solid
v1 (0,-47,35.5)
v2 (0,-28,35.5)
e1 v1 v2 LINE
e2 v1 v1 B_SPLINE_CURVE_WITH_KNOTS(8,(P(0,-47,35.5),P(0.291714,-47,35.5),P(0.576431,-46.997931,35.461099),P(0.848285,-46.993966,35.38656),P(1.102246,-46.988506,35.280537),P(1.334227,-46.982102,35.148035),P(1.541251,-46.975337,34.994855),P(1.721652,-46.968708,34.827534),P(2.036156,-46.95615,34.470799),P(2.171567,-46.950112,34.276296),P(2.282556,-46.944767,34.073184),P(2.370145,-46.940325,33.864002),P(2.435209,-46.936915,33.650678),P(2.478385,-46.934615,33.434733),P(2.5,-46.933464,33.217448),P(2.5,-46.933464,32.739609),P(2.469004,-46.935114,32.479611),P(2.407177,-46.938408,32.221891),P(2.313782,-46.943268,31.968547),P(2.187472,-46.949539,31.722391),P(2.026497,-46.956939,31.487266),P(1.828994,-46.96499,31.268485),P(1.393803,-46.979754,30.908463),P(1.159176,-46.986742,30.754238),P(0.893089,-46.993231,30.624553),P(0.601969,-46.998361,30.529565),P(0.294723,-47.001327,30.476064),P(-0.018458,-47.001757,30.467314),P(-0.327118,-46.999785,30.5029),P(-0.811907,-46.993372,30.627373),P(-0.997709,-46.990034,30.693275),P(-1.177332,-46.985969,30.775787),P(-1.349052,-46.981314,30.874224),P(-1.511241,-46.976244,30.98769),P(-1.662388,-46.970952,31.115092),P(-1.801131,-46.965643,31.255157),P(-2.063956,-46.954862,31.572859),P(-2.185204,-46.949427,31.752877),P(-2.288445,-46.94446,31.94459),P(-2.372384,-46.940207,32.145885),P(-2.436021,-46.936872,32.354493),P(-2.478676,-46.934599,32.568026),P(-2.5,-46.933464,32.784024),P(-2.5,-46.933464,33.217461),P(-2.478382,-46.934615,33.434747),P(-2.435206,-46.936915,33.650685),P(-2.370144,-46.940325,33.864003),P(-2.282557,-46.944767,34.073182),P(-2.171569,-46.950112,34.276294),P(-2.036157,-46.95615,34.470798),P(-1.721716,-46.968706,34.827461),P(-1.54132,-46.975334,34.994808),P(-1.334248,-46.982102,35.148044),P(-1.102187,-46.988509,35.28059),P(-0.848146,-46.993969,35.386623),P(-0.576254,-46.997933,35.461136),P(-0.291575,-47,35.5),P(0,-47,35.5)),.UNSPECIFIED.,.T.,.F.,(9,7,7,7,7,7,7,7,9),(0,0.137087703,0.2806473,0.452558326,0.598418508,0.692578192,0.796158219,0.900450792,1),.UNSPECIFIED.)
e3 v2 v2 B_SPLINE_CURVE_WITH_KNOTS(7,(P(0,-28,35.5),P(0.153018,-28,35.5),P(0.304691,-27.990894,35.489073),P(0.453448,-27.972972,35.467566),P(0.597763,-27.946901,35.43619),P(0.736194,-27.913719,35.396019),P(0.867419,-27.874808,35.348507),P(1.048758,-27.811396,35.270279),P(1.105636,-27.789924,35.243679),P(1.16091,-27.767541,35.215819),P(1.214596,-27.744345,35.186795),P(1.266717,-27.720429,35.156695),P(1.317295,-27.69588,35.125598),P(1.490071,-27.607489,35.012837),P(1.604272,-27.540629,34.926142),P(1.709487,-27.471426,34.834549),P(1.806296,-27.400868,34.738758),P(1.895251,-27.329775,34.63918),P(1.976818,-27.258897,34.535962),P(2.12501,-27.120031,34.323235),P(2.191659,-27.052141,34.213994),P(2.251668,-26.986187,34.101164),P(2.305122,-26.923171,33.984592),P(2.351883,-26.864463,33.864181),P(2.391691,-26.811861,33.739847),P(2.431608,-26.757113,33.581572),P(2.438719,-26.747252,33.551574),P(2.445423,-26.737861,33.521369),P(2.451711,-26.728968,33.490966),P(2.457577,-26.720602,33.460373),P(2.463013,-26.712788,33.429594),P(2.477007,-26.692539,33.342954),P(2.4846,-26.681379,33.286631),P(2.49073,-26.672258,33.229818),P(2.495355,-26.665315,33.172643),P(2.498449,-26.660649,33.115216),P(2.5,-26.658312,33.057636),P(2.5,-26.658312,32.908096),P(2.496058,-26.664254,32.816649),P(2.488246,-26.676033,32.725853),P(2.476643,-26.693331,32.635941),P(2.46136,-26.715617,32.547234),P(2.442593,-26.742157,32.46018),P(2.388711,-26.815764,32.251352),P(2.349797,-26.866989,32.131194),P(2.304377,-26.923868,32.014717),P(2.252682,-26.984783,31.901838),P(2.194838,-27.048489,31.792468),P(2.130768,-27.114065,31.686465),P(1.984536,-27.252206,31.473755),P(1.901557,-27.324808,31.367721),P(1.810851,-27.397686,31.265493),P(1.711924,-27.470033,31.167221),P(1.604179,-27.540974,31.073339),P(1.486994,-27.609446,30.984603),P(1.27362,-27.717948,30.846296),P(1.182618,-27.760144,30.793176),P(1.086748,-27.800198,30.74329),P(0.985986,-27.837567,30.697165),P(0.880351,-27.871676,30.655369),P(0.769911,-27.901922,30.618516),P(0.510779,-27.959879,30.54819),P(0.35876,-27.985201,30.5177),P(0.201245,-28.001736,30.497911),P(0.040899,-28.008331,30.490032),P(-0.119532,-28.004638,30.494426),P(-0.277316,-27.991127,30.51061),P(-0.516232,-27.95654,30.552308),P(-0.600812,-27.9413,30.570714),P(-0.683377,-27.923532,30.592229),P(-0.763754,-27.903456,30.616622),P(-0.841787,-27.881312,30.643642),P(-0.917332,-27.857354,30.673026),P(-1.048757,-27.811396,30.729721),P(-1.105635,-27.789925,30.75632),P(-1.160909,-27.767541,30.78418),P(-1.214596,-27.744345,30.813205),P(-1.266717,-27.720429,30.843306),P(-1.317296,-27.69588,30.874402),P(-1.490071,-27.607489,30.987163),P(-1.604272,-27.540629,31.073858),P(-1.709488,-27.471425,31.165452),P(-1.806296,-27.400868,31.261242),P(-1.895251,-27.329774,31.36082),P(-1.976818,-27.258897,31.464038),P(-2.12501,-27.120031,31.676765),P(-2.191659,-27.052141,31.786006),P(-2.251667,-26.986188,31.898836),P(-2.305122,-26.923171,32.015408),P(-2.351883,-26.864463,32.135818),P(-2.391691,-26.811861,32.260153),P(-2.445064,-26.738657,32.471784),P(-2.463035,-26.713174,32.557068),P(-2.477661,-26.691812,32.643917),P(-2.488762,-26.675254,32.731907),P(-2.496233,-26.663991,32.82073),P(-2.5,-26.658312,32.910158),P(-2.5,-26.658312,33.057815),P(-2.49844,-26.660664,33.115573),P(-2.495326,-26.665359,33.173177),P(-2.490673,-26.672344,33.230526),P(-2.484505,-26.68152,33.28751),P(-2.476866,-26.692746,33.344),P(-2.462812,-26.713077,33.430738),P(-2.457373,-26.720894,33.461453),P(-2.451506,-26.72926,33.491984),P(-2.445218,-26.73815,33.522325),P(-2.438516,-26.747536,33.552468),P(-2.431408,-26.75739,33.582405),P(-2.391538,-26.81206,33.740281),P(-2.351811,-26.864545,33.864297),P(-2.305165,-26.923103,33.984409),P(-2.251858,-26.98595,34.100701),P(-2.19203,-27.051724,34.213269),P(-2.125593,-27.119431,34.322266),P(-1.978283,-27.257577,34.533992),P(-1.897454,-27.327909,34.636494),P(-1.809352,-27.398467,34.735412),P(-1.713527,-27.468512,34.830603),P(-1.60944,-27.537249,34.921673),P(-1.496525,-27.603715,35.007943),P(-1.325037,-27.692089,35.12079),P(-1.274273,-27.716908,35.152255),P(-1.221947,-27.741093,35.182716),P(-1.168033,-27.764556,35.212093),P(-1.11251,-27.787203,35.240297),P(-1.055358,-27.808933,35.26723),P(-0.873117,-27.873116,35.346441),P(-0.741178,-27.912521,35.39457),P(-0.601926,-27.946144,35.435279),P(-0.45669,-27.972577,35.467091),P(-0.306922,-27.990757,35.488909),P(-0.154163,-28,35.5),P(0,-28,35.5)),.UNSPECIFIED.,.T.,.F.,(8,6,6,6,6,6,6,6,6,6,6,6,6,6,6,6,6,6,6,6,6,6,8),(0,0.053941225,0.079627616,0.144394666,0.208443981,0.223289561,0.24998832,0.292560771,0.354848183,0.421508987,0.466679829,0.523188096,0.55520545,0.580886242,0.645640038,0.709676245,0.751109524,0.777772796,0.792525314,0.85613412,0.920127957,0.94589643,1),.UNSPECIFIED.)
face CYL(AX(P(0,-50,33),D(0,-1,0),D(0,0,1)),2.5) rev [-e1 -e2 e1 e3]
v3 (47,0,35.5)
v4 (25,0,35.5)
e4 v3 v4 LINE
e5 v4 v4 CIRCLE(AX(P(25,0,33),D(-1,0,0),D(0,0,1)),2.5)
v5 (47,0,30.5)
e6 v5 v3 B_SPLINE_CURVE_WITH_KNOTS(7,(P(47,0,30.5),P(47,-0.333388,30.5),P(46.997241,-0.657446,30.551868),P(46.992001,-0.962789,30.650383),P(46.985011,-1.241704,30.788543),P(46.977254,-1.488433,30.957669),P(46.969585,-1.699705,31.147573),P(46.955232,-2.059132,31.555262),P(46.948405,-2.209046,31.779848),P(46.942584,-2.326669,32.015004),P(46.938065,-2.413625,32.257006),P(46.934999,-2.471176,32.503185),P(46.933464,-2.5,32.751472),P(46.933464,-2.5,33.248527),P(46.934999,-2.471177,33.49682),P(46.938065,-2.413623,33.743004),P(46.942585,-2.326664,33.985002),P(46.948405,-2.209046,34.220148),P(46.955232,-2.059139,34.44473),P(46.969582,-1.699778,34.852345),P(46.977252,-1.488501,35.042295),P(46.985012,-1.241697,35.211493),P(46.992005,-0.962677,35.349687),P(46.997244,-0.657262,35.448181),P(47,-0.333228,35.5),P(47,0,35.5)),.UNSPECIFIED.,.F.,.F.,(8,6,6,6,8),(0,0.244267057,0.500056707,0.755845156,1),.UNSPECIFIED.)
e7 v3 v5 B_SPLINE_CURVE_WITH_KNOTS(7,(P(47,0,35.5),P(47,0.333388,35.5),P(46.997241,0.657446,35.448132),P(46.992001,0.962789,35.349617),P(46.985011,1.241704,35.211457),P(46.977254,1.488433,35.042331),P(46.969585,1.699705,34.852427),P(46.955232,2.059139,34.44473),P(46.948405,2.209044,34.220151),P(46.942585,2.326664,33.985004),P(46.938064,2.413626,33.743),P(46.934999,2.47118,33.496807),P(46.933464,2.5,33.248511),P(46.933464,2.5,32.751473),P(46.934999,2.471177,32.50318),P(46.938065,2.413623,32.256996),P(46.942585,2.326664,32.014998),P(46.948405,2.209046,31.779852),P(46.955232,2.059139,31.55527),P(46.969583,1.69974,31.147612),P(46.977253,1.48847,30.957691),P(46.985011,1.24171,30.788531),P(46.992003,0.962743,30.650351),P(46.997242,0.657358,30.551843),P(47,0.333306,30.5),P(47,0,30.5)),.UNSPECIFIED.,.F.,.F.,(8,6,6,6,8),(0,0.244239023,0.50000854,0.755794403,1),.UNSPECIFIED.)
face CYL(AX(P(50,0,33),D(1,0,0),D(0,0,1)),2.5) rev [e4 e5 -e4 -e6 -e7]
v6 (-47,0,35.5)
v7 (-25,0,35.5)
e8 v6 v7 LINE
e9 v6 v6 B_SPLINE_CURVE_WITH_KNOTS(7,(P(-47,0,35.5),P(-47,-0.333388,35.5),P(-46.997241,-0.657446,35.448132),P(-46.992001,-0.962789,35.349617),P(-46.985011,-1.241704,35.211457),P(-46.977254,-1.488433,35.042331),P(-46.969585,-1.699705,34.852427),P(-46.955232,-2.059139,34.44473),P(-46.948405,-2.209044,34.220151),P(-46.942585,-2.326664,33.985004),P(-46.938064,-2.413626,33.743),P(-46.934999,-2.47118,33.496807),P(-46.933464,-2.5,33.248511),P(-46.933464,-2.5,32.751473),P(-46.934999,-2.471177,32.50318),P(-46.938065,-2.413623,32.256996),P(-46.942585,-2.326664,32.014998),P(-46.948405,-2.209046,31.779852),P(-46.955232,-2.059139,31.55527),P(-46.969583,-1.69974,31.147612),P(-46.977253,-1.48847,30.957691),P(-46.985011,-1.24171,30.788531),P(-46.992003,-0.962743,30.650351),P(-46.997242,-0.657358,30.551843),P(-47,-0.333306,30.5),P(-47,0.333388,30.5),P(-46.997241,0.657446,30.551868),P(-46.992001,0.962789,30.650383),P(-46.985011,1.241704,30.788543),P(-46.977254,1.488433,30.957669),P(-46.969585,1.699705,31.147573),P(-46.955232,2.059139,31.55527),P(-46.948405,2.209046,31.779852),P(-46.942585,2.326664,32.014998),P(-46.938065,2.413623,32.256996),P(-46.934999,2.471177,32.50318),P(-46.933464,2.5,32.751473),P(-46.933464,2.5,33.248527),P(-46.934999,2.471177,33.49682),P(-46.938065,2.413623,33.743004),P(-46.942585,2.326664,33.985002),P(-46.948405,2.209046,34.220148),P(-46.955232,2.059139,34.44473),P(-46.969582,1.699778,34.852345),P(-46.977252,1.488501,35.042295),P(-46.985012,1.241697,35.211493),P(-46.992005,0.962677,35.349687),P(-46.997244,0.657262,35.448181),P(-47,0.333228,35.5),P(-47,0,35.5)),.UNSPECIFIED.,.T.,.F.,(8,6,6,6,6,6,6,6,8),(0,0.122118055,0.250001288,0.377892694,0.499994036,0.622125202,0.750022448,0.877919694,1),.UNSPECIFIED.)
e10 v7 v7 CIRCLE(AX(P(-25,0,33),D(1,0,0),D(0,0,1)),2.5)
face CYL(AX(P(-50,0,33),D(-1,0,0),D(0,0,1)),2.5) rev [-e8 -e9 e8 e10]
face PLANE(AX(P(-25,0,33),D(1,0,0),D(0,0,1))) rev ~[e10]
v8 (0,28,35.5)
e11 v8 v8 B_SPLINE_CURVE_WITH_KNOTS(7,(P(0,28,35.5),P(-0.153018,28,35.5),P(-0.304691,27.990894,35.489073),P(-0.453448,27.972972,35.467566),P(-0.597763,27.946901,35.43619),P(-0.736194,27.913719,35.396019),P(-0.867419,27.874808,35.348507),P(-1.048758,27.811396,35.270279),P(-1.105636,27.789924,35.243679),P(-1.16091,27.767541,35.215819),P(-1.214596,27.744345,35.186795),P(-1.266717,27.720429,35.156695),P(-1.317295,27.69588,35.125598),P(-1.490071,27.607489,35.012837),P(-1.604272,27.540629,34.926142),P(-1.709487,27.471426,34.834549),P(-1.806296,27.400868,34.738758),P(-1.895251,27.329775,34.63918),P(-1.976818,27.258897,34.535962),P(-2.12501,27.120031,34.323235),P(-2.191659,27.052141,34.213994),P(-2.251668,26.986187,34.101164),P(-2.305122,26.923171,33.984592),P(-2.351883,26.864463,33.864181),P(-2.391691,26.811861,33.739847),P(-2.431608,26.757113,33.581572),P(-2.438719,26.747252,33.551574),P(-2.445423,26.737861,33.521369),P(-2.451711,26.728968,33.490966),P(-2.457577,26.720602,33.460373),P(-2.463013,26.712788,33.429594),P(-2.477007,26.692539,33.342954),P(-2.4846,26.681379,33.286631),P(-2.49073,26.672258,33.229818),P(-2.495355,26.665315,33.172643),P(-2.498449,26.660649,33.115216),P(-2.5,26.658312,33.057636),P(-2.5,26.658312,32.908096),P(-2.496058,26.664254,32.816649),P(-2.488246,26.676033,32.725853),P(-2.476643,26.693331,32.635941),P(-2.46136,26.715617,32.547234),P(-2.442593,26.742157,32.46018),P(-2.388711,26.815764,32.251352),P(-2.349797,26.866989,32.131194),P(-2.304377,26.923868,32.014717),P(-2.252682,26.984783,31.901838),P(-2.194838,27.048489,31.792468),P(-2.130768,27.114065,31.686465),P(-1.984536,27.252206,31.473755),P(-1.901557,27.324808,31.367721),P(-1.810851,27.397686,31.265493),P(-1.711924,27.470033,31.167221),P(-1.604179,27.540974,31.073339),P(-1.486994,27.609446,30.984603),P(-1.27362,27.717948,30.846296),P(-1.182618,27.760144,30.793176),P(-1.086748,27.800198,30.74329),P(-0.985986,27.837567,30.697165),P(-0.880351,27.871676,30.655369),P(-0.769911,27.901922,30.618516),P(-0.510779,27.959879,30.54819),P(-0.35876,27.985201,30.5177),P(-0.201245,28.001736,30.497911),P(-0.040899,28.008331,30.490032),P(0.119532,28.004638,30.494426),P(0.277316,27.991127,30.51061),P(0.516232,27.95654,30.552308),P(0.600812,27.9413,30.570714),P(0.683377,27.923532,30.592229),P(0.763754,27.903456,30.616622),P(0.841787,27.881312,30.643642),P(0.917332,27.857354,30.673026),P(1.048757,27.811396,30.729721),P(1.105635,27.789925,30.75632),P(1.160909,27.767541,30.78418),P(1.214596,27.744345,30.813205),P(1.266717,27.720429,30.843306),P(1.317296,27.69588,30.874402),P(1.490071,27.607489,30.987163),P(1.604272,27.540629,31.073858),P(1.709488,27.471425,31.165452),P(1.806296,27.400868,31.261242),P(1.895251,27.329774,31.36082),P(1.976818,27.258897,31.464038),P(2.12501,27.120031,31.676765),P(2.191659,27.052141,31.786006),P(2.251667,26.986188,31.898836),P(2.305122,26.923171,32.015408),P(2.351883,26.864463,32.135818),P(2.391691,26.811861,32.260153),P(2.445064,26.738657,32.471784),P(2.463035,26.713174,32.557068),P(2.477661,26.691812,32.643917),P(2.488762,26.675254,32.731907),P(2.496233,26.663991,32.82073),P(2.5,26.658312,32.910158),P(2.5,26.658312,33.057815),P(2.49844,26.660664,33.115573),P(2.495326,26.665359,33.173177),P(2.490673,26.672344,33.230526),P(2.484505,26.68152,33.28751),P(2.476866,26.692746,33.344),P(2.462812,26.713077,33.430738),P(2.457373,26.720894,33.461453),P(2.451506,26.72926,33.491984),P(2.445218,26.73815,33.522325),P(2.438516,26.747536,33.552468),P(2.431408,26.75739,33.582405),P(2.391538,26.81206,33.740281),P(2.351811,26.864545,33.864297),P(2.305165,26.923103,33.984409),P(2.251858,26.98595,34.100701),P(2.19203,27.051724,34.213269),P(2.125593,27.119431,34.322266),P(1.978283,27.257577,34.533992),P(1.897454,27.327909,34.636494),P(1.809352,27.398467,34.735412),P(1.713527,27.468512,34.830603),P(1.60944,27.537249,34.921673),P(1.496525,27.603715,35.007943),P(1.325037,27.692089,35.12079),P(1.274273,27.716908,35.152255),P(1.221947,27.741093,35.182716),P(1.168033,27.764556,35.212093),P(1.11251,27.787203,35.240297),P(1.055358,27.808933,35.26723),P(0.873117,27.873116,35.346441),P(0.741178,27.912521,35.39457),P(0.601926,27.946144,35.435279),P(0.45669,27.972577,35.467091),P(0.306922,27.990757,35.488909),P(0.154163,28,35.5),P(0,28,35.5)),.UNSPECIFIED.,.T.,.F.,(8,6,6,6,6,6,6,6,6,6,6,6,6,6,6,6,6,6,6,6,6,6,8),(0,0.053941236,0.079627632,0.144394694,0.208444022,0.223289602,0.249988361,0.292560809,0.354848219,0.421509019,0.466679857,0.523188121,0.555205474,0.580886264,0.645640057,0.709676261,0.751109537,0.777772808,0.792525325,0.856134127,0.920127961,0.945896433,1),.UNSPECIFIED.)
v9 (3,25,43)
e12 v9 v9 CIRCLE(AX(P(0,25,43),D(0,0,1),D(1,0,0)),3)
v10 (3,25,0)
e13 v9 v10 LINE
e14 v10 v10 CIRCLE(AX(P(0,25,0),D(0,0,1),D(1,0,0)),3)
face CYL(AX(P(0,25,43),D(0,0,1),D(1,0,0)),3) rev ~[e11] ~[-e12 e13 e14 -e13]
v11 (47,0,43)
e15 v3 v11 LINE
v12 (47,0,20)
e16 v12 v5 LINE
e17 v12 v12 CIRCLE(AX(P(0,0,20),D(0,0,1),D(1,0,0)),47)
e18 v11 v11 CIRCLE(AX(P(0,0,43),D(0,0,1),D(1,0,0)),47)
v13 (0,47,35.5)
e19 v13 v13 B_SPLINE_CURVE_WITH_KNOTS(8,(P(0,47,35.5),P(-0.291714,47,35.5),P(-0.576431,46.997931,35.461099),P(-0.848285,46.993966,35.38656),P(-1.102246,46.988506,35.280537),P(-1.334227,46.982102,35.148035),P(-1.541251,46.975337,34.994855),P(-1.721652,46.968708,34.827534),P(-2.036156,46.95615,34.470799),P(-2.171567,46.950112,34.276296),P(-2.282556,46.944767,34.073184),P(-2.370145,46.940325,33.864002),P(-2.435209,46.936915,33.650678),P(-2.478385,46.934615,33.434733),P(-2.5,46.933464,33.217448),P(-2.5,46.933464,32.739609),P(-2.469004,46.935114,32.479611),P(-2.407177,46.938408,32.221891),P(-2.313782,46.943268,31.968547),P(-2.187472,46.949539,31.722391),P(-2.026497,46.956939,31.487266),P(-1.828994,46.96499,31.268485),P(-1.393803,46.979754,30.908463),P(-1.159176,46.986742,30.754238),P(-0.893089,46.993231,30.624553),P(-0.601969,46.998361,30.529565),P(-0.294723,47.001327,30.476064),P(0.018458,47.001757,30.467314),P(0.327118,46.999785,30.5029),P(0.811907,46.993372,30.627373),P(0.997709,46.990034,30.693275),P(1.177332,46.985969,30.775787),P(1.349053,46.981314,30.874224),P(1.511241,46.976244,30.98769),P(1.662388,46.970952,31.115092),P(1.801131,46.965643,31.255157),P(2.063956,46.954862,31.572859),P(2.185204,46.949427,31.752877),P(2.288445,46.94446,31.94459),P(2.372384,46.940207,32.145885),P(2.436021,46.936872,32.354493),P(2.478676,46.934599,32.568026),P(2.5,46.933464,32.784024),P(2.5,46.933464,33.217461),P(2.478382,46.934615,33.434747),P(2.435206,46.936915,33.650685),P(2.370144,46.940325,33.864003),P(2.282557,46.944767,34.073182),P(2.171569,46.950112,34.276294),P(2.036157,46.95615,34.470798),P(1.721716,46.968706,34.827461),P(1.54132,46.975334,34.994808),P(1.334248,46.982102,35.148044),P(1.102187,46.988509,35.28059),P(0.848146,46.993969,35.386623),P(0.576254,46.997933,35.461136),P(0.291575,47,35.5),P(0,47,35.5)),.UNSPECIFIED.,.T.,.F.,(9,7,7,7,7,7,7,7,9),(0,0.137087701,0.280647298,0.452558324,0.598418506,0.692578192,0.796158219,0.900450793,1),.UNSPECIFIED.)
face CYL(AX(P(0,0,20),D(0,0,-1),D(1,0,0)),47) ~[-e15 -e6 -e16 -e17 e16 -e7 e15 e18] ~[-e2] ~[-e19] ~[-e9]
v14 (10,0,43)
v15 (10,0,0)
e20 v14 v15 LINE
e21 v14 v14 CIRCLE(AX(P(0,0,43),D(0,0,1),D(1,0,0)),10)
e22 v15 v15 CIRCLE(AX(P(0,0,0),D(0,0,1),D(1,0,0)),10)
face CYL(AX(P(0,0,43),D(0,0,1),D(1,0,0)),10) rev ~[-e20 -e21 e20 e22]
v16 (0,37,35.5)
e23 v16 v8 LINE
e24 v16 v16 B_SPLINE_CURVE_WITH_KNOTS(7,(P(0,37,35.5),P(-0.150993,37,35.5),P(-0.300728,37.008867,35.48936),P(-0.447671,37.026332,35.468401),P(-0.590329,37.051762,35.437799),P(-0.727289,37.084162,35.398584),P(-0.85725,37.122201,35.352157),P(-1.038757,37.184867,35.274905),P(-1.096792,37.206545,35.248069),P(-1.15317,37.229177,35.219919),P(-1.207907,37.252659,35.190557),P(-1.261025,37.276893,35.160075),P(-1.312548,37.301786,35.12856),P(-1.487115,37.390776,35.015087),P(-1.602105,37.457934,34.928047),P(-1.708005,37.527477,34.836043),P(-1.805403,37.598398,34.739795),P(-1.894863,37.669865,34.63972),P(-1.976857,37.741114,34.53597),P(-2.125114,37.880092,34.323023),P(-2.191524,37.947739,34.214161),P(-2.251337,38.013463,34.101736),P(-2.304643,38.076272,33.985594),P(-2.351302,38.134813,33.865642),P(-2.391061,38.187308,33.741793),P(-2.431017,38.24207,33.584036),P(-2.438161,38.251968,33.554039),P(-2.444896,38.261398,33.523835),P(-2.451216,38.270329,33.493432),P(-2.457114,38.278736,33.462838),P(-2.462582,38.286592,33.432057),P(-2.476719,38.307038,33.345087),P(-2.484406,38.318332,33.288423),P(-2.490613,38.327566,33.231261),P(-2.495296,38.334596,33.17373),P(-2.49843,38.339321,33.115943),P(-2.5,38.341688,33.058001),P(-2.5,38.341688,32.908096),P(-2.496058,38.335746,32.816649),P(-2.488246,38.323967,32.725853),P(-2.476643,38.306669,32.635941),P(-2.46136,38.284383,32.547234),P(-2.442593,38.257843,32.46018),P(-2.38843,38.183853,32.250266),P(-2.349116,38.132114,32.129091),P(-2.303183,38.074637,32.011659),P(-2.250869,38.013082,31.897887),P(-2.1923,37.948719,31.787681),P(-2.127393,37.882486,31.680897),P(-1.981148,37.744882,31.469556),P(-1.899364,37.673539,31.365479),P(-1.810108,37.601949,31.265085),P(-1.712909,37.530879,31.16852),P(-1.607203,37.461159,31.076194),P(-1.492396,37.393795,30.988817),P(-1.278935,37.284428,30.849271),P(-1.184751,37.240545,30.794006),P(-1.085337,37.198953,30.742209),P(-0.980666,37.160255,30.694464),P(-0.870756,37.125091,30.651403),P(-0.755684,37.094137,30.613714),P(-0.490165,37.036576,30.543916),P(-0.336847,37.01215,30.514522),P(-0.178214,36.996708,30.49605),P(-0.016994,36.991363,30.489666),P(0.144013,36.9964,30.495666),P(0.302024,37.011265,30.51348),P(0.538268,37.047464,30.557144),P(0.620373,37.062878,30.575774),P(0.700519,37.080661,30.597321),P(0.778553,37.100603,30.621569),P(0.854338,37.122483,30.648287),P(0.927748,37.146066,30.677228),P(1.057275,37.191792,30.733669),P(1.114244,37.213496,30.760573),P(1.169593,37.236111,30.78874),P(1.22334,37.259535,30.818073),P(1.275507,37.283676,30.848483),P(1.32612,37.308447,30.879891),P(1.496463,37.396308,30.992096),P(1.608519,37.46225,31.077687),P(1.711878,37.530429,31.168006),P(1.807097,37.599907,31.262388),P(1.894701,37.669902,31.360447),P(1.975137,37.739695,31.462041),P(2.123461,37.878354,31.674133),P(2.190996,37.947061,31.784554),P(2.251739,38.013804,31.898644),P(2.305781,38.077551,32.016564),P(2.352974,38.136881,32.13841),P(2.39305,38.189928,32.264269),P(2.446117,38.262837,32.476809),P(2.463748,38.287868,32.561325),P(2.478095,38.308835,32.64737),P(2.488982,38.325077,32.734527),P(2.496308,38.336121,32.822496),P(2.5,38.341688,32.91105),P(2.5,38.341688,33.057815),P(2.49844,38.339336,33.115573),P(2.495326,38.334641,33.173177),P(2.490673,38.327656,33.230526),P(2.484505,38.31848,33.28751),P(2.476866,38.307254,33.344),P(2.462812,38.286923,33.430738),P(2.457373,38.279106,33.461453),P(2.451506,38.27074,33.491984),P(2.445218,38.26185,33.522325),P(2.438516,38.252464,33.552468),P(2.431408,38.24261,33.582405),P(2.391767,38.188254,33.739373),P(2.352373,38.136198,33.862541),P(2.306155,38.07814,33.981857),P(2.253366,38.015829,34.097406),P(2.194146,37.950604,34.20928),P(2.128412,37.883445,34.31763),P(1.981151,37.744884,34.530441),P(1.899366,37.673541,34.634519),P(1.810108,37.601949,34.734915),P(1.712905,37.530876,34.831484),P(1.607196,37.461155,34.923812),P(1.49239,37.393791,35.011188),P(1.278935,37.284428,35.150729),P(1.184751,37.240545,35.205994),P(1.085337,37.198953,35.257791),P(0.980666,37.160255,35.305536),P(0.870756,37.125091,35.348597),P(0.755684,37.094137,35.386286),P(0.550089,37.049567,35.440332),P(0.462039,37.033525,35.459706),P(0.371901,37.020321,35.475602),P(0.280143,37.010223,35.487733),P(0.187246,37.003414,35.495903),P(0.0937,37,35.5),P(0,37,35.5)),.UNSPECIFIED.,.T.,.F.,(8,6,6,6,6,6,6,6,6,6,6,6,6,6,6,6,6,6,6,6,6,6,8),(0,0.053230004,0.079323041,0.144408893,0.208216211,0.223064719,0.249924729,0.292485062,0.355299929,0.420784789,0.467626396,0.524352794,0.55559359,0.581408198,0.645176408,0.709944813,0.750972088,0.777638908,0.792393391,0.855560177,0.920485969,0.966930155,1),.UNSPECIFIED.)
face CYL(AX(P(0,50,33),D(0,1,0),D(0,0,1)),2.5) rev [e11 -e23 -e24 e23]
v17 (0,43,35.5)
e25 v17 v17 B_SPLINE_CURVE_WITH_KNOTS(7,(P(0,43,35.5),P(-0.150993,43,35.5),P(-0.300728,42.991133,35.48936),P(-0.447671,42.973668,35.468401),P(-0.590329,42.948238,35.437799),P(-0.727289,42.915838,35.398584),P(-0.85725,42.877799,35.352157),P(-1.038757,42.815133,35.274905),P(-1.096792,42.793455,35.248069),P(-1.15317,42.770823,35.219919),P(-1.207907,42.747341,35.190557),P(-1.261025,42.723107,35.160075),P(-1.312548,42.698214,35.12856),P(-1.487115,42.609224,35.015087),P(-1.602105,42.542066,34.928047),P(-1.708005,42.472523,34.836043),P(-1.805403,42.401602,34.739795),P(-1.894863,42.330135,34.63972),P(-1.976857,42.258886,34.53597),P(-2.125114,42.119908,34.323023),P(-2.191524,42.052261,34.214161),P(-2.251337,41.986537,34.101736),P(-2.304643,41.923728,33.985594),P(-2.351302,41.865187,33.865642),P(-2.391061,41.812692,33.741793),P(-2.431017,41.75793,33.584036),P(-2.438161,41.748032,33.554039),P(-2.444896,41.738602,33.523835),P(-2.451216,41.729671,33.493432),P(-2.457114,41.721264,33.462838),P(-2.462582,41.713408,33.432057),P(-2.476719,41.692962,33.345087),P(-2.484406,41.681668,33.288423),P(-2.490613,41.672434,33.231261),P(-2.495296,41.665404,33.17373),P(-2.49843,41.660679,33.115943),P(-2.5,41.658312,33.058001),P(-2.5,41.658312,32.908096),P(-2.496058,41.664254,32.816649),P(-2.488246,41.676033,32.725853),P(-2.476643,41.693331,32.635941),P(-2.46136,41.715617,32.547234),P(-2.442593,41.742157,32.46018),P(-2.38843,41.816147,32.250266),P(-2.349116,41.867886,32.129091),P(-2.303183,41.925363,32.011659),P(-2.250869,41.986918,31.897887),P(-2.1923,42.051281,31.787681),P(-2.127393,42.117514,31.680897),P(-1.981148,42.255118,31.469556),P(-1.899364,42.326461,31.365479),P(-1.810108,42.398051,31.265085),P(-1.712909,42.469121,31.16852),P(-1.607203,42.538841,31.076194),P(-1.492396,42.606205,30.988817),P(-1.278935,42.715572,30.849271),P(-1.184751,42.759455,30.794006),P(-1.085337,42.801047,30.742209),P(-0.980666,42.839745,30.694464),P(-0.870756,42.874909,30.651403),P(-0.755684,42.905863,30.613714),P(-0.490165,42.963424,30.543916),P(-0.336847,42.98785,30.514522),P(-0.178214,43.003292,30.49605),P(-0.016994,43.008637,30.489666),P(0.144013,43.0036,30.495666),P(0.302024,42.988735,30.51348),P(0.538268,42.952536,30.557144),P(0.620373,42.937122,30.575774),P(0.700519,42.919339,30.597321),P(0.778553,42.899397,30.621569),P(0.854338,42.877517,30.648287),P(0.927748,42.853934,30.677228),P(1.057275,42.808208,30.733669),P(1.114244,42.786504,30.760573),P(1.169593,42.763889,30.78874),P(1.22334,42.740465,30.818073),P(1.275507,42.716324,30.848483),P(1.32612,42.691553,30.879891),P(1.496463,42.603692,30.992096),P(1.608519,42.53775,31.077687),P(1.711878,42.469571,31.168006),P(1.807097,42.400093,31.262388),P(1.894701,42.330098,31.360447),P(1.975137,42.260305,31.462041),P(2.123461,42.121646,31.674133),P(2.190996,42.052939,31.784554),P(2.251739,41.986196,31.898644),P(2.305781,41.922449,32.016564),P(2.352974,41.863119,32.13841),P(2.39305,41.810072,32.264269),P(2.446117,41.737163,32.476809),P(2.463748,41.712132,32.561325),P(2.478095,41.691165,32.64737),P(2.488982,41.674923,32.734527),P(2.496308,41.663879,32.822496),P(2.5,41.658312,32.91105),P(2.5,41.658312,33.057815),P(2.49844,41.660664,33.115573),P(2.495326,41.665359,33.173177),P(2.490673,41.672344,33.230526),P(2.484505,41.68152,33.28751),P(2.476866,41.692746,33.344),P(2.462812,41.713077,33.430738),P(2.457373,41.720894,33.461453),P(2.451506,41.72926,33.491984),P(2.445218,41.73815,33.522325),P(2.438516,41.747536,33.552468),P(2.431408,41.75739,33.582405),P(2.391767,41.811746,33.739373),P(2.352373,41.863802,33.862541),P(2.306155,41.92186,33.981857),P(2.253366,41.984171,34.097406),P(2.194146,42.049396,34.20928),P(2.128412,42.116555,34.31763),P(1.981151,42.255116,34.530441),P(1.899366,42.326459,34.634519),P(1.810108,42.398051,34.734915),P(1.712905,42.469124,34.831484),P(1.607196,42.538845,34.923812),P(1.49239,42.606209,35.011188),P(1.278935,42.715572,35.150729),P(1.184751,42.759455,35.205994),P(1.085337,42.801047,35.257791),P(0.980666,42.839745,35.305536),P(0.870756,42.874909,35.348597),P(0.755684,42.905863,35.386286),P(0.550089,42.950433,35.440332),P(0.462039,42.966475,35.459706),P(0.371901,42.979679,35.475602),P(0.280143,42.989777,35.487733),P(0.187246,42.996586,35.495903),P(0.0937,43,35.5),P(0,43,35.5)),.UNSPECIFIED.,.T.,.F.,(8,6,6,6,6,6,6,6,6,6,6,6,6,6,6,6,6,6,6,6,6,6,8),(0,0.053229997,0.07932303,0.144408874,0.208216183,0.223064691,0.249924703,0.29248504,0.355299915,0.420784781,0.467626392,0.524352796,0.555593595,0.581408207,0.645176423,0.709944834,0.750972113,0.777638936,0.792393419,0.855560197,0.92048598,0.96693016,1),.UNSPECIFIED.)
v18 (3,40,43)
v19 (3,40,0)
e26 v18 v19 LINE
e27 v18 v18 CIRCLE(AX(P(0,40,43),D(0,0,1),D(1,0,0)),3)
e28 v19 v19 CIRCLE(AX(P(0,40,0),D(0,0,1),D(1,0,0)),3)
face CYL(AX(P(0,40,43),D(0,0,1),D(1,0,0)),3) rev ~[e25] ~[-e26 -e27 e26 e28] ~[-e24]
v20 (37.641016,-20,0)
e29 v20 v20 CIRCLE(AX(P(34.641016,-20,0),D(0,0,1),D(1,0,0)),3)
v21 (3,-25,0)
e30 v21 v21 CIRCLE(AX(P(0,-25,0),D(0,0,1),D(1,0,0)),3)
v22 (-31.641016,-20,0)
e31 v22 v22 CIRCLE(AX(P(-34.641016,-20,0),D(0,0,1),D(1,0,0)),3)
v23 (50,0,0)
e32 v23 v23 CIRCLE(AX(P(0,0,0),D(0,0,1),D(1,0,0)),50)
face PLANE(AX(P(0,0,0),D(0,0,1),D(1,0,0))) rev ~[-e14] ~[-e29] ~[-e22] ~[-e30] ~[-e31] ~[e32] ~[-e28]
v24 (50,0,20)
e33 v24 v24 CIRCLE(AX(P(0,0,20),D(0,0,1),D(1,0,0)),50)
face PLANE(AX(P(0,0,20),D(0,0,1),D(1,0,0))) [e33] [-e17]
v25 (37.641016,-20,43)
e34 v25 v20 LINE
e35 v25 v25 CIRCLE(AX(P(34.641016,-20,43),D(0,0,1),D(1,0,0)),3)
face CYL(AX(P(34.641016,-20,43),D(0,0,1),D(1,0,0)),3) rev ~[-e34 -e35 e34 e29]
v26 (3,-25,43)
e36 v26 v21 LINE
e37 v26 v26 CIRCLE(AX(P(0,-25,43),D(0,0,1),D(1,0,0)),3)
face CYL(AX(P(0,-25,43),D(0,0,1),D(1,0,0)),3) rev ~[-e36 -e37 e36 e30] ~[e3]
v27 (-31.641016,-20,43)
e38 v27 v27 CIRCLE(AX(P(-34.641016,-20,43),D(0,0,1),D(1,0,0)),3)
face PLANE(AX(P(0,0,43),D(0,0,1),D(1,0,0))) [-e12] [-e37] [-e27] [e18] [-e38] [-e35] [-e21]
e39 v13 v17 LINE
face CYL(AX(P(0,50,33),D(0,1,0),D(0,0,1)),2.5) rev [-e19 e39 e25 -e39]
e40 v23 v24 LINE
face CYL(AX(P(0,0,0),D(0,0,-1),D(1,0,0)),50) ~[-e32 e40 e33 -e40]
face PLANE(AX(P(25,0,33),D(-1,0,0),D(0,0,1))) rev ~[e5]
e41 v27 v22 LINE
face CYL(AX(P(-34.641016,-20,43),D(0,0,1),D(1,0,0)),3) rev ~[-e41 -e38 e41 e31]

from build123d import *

# Parameters (mm, degrees)
SKETCH1_R           = 50
BOSS_EXTRUDE1_DEPTH = 20
SKETCH2_R           = 47
BOSS_EXTRUDE2_DEPTH = 23
SKETCH3_R           = 3
SKETCH3_R_2         = 10
CUT_EXTRUDE1_DEPTH  = 83.758685345
SKETCH5_R           = 2.5
CUT_EXTRUDE3_DEPTH  = 25
CIRPATTERN1_COUNT   = 4


with BuildPart() as part:
    # Sketch1 → Boss-Extrude1 (new body)
    with BuildSketch(Plane.XY):
        Circle(SKETCH1_R)
    extrude(amount=BOSS_EXTRUDE1_DEPTH)

    # Sketch2 → Boss-Extrude2 (add)
    with BuildSketch(Plane.XY.offset(20)):
        Circle(SKETCH2_R)
    extrude(amount=BOSS_EXTRUDE2_DEPTH)

    # Sketch3 → Cut-Extrude1 (cut, through all)
    with BuildSketch(Plane.XY.offset(43)):
        with Locations((0, 40)):
            Circle(SKETCH3_R)
        with Locations((34.641016151, -20)):
            Circle(SKETCH3_R)
        with Locations((-34.641016151, -20)):
            Circle(SKETCH3_R)
        with Locations((0, -25)):
            Circle(SKETCH3_R)
        with Locations((0, 25)):
            Circle(SKETCH3_R)
        Circle(SKETCH3_R_2)
    extrude(amount=-CUT_EXTRUDE1_DEPTH, mode=Mode.SUBTRACT)

    # Sketch5 → Cut-Extrude3 (cut)
    with BuildSketch(Plane.ZY.offset(-50)):
        with Locations((33, 0)):
            Circle(SKETCH5_R)
    cut_extrude3 = extrude(amount=CUT_EXTRUDE3_DEPTH, mode=Mode.SUBTRACT)

    # CirPattern1: Cut-Extrude3 ×4 about axis
    cirpattern1_axis = Axis((0, 0, 43), (0, 0, -1))
    for i in range(1, CIRPATTERN1_COUNT):
        add(cut_extrude3.rotate(cirpattern1_axis, i * 360 / CIRPATTERN1_COUNT), mode=Mode.SUBTRACT)


solid = part.part
